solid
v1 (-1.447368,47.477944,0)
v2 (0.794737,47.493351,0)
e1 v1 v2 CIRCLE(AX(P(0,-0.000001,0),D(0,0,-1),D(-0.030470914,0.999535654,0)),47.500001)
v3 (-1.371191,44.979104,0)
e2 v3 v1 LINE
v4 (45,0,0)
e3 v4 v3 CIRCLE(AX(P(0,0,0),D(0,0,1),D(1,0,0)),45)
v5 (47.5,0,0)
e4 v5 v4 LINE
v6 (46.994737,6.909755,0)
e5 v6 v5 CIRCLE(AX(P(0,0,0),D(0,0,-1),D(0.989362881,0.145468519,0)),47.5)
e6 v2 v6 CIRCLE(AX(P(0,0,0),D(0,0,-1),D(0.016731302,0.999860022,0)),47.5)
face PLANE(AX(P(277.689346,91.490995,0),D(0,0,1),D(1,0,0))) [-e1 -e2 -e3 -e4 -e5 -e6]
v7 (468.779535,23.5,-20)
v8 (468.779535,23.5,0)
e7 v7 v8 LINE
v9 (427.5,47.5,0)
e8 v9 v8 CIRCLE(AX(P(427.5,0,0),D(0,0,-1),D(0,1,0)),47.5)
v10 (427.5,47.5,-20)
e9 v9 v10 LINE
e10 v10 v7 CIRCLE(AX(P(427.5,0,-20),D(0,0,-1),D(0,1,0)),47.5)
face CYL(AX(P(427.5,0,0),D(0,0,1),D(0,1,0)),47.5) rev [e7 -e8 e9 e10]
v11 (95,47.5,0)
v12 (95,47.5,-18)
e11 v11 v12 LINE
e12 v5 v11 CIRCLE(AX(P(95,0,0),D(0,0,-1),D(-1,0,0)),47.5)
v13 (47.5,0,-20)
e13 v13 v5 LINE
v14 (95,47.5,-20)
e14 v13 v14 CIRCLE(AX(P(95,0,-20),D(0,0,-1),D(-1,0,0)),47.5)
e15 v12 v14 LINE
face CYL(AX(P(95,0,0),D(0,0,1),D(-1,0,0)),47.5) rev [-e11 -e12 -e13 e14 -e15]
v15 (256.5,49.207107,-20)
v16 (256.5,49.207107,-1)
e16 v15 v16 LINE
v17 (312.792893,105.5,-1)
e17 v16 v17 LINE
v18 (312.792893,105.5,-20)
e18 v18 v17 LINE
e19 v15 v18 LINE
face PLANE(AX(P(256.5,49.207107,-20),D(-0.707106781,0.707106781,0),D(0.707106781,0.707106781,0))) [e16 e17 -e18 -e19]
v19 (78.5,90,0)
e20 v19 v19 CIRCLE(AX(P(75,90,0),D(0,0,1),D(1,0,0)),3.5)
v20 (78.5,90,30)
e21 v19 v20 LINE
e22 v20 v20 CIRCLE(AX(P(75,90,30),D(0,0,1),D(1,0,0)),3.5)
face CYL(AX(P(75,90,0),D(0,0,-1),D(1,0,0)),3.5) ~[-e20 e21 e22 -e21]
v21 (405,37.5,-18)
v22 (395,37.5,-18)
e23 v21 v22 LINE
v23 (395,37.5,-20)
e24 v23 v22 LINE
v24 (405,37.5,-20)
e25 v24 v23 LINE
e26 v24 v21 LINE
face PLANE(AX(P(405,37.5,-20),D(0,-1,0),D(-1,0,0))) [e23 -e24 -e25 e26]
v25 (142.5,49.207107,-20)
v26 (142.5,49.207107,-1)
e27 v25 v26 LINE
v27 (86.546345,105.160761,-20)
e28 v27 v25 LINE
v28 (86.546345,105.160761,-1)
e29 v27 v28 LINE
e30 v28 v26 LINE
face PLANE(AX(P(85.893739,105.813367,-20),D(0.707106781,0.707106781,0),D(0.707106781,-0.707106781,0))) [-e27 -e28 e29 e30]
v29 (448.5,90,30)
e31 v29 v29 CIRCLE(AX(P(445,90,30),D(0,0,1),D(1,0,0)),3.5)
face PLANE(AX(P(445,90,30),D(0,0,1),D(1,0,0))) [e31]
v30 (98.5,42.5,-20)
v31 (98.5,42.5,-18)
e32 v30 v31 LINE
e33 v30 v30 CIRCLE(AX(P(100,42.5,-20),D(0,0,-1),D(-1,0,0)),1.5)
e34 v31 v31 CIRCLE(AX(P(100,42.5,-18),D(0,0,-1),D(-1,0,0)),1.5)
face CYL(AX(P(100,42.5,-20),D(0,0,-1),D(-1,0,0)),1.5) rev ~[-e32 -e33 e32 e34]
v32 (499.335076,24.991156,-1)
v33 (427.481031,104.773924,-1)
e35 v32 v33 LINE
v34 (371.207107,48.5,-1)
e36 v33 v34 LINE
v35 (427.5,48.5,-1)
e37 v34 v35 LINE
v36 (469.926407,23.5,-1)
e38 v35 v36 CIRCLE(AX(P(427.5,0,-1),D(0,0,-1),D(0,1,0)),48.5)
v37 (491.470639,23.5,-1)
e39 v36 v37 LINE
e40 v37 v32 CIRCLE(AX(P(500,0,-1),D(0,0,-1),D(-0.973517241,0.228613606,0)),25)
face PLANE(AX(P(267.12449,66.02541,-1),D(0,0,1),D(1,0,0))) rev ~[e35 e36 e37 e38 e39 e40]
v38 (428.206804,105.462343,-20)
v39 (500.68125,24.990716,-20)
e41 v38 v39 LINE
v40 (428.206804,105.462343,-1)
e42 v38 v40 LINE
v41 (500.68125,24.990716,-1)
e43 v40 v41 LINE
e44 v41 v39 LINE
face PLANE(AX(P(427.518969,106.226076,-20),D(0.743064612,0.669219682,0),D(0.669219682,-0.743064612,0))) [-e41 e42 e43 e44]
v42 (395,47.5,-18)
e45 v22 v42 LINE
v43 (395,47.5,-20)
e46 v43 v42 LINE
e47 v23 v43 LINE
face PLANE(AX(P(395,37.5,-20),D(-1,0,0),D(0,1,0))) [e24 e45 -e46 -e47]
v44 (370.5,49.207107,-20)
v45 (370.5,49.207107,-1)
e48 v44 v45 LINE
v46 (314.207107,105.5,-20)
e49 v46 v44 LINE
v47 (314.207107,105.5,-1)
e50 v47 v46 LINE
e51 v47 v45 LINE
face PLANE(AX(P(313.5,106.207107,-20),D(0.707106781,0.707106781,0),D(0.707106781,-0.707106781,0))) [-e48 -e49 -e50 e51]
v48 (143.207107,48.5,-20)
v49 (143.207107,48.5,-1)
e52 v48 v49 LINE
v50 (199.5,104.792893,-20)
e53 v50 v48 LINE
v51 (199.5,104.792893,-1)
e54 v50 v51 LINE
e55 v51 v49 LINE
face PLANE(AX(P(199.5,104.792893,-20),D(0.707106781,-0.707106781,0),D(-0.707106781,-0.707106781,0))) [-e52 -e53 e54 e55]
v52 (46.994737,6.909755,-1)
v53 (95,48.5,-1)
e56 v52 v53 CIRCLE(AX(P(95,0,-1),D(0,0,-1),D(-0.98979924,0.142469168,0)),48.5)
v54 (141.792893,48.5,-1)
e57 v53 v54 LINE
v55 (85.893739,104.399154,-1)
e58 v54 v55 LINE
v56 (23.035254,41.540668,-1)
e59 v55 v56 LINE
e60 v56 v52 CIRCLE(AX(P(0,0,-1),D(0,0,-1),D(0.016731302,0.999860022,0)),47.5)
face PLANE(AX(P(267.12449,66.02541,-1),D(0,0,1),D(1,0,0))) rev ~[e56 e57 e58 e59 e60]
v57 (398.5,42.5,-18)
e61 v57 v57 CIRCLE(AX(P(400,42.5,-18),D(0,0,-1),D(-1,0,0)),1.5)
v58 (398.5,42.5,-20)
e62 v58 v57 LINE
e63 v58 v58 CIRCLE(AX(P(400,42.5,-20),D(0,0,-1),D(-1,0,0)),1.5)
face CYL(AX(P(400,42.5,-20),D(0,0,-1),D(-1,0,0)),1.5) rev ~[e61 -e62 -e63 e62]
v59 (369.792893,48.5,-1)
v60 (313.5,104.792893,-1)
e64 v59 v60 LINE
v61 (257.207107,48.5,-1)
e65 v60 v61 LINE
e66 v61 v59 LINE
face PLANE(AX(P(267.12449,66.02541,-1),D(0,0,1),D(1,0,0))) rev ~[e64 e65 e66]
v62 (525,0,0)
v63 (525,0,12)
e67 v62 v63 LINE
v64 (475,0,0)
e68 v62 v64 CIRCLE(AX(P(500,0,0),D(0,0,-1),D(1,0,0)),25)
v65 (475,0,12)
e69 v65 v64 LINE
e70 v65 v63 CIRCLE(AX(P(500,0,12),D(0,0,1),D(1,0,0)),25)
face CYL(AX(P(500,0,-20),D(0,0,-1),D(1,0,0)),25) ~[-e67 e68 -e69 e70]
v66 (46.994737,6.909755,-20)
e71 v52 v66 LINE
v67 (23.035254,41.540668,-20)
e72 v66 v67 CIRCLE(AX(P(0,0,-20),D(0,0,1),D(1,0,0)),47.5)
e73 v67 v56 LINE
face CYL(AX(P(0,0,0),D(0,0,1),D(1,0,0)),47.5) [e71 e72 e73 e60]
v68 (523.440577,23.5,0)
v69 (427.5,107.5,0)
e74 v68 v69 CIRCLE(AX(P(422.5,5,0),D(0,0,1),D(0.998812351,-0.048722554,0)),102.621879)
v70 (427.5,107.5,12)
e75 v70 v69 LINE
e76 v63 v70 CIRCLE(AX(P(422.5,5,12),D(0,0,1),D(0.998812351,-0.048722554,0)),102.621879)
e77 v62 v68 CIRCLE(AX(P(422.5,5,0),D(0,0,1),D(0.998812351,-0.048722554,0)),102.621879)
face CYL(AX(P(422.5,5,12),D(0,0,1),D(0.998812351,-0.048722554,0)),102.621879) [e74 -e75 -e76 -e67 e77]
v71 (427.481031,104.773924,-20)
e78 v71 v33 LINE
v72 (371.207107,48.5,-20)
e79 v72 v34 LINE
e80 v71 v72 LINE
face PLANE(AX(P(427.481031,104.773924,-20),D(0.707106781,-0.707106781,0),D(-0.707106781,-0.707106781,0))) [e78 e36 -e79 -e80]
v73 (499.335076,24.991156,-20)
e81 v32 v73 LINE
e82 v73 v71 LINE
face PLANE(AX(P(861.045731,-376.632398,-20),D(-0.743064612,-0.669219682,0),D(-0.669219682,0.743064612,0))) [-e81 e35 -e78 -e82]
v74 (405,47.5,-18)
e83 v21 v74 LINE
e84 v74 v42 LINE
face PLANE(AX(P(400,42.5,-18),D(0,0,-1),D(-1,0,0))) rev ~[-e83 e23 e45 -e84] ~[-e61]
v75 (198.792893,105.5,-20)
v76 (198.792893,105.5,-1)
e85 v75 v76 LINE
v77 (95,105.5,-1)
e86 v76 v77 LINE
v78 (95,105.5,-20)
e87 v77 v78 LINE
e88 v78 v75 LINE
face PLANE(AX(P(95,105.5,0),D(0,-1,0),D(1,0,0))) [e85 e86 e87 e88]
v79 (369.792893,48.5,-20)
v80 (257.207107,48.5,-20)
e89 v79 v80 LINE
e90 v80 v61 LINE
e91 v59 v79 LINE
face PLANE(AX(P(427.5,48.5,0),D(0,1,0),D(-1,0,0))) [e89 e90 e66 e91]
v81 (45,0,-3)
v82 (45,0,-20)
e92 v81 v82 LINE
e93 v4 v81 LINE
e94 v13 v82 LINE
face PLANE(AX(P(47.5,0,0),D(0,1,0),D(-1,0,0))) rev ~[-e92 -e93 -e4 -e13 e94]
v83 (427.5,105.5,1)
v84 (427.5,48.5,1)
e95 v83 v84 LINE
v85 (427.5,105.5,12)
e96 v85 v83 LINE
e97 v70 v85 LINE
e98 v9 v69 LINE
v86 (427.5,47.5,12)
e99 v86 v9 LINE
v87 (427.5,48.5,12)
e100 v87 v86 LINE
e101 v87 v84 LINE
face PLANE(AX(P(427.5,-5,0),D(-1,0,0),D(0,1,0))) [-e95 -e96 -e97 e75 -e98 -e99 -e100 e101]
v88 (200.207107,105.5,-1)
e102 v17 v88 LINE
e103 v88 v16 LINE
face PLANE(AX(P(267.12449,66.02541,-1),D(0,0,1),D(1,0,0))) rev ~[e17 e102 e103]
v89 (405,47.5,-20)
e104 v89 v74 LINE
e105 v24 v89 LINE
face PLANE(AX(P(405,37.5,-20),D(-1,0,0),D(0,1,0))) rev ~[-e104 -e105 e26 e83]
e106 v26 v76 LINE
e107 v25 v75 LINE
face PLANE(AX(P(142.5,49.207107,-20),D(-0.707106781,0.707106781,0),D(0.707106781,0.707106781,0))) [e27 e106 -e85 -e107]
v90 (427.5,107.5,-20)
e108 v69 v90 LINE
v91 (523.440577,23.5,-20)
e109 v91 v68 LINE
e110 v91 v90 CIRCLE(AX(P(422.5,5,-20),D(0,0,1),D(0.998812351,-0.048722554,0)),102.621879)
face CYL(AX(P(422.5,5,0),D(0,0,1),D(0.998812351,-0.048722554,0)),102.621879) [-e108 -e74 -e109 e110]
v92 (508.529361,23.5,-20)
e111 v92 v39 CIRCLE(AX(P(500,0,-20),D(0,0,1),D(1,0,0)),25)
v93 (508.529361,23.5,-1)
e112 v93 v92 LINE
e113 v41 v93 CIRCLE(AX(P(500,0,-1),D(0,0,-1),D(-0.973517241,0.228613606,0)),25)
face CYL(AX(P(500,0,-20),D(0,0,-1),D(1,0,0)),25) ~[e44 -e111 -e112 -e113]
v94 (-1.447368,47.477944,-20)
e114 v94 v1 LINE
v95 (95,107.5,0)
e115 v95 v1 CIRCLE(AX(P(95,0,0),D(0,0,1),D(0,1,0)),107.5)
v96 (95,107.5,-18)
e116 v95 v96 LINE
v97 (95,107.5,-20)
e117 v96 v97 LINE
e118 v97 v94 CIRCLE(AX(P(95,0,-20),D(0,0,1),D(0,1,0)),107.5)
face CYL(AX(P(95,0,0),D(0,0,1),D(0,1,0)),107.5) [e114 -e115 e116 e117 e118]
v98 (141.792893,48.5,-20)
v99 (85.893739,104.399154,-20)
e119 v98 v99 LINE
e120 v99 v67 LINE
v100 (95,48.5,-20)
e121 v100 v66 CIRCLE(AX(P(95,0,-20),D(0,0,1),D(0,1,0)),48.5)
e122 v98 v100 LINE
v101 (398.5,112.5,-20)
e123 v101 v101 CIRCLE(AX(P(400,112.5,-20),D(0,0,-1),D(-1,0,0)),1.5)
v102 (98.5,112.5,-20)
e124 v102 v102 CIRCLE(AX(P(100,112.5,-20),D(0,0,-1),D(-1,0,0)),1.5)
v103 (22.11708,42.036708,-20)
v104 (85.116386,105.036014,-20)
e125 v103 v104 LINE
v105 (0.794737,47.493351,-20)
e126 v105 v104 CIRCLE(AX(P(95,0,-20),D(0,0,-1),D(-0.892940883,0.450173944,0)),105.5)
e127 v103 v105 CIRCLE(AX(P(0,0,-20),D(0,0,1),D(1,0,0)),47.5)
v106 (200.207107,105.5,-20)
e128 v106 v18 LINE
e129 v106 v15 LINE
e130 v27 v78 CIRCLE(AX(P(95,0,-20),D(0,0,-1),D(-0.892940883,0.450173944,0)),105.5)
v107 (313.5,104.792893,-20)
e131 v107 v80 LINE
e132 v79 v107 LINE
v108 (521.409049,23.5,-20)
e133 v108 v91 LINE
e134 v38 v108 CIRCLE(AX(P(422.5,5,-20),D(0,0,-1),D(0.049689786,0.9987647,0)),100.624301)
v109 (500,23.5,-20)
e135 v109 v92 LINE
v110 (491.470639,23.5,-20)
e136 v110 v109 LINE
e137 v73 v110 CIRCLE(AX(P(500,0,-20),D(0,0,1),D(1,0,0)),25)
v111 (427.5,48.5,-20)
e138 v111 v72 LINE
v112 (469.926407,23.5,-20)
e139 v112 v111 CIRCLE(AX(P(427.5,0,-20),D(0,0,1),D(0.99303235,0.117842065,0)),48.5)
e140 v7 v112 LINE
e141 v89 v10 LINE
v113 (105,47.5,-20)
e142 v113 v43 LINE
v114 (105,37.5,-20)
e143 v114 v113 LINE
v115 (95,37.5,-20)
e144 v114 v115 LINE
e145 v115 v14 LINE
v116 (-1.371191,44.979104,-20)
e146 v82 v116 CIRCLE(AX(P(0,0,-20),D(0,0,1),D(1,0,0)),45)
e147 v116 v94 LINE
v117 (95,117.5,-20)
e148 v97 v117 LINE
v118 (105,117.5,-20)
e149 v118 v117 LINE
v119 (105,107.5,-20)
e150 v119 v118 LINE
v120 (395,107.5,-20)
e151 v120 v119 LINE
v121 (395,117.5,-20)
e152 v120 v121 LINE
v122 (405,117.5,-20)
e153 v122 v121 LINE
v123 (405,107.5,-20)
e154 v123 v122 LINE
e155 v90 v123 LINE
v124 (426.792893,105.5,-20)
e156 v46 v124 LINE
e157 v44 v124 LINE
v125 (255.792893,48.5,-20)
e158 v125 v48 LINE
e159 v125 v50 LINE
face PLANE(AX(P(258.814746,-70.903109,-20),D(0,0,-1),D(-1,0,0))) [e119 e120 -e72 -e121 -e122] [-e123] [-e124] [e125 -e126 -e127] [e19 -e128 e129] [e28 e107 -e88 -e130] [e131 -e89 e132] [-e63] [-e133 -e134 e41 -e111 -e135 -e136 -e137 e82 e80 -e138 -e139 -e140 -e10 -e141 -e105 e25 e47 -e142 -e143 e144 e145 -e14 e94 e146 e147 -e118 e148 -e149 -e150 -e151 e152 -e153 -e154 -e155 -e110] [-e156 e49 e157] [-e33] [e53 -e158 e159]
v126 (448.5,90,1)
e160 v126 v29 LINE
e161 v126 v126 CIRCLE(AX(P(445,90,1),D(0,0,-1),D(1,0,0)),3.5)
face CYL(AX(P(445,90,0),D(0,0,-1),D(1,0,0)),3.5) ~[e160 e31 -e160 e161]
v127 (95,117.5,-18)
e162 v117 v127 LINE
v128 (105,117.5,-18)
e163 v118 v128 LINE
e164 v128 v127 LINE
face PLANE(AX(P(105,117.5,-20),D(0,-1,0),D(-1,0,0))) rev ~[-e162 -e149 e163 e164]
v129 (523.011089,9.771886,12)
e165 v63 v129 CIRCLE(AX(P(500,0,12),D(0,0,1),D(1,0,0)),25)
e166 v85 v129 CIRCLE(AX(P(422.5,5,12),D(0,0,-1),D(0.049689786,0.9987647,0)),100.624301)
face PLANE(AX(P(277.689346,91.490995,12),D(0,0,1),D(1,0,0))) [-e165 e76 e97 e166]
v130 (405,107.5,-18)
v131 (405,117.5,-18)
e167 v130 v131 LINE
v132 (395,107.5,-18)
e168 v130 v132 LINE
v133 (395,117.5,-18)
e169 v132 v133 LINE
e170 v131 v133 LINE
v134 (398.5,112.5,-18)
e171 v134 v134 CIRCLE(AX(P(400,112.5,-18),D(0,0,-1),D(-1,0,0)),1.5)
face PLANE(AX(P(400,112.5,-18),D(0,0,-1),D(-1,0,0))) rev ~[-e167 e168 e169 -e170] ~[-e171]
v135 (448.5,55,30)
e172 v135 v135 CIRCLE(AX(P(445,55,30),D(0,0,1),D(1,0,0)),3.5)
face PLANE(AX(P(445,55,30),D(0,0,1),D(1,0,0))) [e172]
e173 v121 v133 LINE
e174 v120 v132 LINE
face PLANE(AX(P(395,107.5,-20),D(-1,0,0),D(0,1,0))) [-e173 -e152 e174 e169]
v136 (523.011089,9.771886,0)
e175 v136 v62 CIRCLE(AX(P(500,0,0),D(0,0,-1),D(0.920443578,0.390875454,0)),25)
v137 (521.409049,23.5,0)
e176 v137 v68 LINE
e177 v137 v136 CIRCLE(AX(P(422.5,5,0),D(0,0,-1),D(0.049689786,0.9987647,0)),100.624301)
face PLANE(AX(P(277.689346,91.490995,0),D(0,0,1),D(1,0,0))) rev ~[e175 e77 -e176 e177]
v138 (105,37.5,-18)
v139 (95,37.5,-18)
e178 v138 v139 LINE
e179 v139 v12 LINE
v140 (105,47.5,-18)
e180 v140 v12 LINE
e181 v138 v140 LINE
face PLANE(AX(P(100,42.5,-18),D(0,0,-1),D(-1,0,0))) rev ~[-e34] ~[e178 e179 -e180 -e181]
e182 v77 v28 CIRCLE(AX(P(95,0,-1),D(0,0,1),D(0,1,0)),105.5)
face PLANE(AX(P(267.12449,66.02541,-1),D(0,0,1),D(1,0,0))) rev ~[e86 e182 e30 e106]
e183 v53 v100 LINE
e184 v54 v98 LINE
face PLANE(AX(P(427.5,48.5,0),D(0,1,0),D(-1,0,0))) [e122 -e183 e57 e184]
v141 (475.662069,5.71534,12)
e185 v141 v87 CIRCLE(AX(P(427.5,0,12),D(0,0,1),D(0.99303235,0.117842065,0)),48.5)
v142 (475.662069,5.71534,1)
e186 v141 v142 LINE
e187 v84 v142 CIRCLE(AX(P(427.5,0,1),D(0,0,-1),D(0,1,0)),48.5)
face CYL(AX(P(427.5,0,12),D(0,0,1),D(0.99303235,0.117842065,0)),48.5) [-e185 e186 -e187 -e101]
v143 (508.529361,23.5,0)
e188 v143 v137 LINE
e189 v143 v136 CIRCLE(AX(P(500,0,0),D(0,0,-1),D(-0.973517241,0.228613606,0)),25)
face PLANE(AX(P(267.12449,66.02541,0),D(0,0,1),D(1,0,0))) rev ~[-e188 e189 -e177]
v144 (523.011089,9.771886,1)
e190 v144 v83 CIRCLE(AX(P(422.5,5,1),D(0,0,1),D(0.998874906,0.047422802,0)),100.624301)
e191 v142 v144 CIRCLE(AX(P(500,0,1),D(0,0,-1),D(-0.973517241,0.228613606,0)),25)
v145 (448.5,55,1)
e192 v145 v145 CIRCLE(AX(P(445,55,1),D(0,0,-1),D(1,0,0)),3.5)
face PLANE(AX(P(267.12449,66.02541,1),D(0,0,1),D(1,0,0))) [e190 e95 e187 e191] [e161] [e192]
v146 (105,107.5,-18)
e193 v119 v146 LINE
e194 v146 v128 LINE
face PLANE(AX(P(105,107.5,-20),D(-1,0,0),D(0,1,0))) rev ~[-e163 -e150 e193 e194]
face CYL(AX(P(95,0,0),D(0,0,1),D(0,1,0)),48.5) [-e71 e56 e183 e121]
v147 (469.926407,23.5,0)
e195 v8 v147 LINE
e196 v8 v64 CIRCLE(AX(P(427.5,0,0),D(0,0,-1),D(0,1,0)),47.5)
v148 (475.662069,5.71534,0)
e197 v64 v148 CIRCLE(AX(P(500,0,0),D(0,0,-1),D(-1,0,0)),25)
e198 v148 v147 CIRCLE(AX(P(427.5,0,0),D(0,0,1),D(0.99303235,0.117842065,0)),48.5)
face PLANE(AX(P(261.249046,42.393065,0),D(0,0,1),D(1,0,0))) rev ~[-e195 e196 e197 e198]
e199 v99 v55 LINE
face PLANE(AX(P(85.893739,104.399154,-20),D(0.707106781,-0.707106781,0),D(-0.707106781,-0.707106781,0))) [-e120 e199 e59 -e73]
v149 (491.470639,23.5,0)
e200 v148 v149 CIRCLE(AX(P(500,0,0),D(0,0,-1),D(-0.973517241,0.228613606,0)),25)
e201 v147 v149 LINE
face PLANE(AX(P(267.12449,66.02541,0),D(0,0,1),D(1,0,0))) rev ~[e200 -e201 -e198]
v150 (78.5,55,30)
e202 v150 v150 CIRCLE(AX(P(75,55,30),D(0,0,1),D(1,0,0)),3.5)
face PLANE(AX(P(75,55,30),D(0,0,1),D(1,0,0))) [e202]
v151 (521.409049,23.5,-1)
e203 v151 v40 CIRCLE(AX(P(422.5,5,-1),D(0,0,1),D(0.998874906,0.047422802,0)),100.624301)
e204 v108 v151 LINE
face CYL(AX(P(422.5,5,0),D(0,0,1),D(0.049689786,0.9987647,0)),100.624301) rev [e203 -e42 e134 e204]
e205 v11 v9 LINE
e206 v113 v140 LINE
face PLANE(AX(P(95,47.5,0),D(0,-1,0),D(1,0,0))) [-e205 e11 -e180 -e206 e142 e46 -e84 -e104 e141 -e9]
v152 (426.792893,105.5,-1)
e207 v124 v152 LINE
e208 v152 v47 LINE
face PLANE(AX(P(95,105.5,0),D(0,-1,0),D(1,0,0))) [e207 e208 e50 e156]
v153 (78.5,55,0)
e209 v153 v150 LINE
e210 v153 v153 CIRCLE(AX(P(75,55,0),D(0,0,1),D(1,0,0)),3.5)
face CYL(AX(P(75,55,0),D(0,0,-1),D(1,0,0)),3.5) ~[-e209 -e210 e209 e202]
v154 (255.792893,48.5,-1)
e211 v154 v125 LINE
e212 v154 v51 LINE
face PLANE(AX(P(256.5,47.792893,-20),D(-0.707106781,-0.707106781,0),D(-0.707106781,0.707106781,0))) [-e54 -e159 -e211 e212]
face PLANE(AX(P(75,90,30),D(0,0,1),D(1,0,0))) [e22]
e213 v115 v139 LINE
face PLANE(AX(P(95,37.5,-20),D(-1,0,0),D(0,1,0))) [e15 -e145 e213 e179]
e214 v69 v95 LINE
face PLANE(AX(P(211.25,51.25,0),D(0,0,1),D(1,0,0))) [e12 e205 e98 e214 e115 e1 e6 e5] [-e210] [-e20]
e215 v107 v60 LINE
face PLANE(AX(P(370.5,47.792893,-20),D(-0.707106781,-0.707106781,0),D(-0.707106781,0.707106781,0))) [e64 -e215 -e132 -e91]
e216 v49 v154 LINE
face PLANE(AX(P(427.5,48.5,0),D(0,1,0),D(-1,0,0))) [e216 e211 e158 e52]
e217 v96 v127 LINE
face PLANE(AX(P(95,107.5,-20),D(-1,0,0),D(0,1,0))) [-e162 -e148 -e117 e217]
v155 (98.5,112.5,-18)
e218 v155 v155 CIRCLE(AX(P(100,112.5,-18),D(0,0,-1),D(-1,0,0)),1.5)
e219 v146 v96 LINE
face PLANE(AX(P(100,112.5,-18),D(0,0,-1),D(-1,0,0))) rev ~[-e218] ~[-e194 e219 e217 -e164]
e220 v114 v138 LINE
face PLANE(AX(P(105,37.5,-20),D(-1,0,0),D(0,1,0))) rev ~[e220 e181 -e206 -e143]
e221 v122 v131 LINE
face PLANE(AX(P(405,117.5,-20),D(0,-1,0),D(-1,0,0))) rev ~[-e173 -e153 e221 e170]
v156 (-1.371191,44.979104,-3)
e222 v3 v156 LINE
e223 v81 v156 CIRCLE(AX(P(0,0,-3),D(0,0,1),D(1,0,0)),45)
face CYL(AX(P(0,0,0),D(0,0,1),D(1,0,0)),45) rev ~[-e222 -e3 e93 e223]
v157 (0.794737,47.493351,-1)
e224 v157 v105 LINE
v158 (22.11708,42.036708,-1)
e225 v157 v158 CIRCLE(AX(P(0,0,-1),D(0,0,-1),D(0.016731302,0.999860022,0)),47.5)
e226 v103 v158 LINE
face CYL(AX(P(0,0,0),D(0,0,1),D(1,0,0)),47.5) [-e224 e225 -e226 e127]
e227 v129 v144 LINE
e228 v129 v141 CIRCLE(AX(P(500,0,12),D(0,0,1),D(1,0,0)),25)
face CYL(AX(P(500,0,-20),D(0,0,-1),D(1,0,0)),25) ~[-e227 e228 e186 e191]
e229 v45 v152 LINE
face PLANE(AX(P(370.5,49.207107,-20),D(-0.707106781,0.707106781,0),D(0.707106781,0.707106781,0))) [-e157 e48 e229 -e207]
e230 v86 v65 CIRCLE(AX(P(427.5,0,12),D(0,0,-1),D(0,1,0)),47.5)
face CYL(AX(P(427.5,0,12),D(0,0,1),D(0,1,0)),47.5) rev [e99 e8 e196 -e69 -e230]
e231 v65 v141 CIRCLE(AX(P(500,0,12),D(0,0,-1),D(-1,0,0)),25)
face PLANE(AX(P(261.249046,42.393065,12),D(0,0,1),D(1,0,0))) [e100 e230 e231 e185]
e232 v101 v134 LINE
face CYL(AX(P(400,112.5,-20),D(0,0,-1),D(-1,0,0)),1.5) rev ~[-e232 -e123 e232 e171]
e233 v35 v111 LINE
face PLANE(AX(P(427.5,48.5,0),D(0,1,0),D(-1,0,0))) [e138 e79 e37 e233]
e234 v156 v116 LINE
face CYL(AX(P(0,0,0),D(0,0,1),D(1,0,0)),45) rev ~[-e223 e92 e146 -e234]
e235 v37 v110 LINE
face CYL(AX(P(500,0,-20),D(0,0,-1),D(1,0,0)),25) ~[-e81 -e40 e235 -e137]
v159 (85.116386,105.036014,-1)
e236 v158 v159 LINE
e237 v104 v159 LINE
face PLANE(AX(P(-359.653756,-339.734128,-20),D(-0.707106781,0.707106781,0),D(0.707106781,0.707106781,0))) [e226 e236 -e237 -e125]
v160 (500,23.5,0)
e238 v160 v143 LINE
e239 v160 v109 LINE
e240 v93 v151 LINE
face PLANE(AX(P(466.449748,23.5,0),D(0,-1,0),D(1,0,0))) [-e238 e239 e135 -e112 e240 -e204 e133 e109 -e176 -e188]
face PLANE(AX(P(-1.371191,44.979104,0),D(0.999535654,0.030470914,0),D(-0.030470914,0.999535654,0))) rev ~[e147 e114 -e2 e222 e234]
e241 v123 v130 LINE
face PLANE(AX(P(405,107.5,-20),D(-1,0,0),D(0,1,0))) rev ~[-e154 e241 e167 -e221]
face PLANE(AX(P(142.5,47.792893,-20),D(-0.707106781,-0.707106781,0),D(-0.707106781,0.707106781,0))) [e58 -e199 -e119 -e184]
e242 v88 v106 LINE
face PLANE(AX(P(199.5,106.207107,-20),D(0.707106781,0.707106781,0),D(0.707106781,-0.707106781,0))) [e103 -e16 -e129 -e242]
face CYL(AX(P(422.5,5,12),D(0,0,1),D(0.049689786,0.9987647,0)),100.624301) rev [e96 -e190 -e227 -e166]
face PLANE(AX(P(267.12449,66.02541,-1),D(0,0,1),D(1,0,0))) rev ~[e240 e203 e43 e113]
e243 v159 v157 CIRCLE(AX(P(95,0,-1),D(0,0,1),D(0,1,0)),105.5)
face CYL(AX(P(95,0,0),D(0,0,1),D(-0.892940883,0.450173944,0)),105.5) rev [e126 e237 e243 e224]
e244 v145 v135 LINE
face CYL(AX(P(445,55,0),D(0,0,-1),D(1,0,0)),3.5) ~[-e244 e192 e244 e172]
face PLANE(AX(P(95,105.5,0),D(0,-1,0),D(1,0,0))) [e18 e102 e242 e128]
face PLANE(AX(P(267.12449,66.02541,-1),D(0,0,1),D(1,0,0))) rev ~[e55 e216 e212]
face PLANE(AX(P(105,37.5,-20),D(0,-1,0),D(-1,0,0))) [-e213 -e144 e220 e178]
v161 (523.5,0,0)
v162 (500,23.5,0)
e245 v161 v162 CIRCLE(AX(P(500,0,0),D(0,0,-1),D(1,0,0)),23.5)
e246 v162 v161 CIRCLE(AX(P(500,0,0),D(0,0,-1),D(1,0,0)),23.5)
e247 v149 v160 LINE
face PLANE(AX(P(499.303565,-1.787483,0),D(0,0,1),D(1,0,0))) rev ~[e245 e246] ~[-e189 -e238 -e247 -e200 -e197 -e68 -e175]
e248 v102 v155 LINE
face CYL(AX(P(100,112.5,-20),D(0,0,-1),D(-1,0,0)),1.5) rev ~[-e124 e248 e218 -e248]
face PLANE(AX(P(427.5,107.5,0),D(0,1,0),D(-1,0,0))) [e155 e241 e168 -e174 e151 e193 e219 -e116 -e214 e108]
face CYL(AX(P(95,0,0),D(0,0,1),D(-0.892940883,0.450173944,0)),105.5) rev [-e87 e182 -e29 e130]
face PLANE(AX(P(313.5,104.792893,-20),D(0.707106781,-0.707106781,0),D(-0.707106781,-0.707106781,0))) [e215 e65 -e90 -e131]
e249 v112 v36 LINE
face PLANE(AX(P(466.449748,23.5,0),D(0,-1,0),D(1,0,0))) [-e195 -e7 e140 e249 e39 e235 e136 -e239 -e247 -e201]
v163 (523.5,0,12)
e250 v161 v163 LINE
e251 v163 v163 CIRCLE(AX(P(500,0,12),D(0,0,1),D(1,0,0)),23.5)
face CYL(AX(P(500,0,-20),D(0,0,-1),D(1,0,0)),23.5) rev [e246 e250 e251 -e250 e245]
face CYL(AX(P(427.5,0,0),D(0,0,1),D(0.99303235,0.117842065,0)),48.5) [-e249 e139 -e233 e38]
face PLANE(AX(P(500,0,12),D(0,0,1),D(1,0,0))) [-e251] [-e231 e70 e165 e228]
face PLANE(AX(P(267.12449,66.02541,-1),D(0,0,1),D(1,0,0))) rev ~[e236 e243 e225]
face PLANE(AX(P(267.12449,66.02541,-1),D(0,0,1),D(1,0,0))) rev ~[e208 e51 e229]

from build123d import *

# Parameters (mm, degrees)
BOSS_EXTRUDE1_DEPTH      = 1
SKETCH1_5_R              = 47.5
SKETCH1_5_R_2            = 25
BOSS_EXTRUDE2_DEPTH      = 3
SKETCH1_6_R              = 45
BOSS_EXTRUDE3_DEPTH      = 20
BOSS_EXTRUDE4_DEPTH      = 12
BOSS_EXTRUDE4_DEPTH_BACK = 20
SKETCH1_7_R              = 23.5
SKETCH4_W                = 10
SKETCH4_H                = 10
SKETCH4_R                = 1.5
BOSS_EXTRUDE5_DEPTH      = 2
RIB1_REACH               = 541.058
SKETCH5_R                = 25
SKETCH5_W                = 65.707634962
SKETCH5_H                = 50.574965667
CUT_EXTRUDE2_DEPTH       = 20
BOSS_EXTRUDE7_START      = 12
BOSS_EXTRUDE7_DEPTH      = 12
BOSS_EXTRUDE8_START      = 1
BOSS_EXTRUDE8_DEPTH      = 1
SKETCH6_W                = 432.5
SKETCH6_H                = 112.5
CUT_EXTRUDE3_DEPTH       = 20
SKETCH7_R                = 3.5
BOSS_EXTRUDE9_DEPTH      = 30


with BuildPart() as part:
    # Sketch1 → Boss-Extrude1 (new body)
    with BuildSketch(Plane.XY):
        with BuildLine():
            ThreePointArc((95, 105.5), (39.684082468, 89.835400971), (0.794736842, 47.493351044))
            ThreePointArc((0.794736842, 47.493351044), (31.348293783, 35.686614815), (46.994736842, 6.909754637))
            ThreePointArc((46.994736842, 6.909754637), (63.242112003, 36.656330285), (95, 48.5))
            Line((95, 48.5), (427.5, 48.5))
            ThreePointArc((427.5, 48.5), (459.710681482, 36.25909539), (475.662068966, 5.715340144))
            ThreePointArc((475.662068966, 5.715340144), (497.865985258, 24.908753102), (523.011089442, 9.771886344))
            ThreePointArc((523.011089442, 9.771886344), (493.732825543, 76.071334342), (427.5, 105.5))
            Line((427.5, 105.5), (95, 105.5))
        make_face()
    extrude(amount=-BOSS_EXTRUDE1_DEPTH)

    # Sketch1<5> → Boss-Extrude2 (add)
    with BuildSketch(Plane.XY):
        Circle(SKETCH1_5_R)
        Circle(SKETCH1_5_R_2, mode=Mode.SUBTRACT)
    extrude(amount=-BOSS_EXTRUDE2_DEPTH)

    # Sketch1<6> → Boss-Extrude3 (add)
    with BuildSketch(Plane.XY):
        with BuildLine():
            Line((427.5, 107.5), (95, 107.5))
            ThreePointArc((95, 107.5), (38.200479459, 91.269186839), (-1.447368421, 47.47794356))
            ThreePointArc((-1.447368421, 47.47794356), (-33.071891388, -34.095454242), (47.5, 0))
            ThreePointArc((47.5, 0), (61.412427894, 33.587572106), (95, 47.5))
            Line((95, 47.5), (427.5, 47.5))
            ThreePointArc((427.5, 47.5), (461.087572106, 33.587572106), (475, 0))
            ThreePointArc((475, 0), (475.166068818, 2.876779809), (475.662068966, 5.715340144))
            ThreePointArc((475.662068966, 5.715340144), (459.710681482, 36.25909539), (427.5, 48.5))
            Line((427.5, 48.5), (95, 48.5))
            ThreePointArc((95, 48.5), (63.242112003, 36.656330285), (46.994736842, 6.909754637))
            ThreePointArc((46.994736842, 6.909754637), (31.348293783, 35.686614815), (0.794736842, 47.493351044))
            ThreePointArc((0.794736842, 47.493351044), (39.684082468, 89.835400971), (95, 105.5))
            Line((95, 105.5), (427.5, 105.5))
            ThreePointArc((427.5, 105.5), (493.732825543, 76.071334342), (523.011089442, 9.771886344))
            ThreePointArc((523.011089442, 9.771886344), (524.497726793, 4.98611893), (525, 0))
            ThreePointArc((525, 0), (498.513978978, 73.942911166), (427.5, 107.5))
        make_face()
        Circle(SKETCH1_6_R, mode=Mode.SUBTRACT)
    extrude(amount=-BOSS_EXTRUDE3_DEPTH)

    # Sketch1<7> → Boss-Extrude4 (add, two sides: drawn at the far end of the back side and taken through both)
    with BuildSketch(Plane.XY.offset(-BOSS_EXTRUDE4_DEPTH_BACK)):
        with BuildLine():
            ThreePointArc((475, 0), (500, -25), (525, 0))
            ThreePointArc((525, 0), (524.497726793, 4.98611893), (523.011089442, 9.771886344))
            ThreePointArc((523.011089442, 9.771886344), (497.865985258, 24.908753102), (475.662068966, 5.715340144))
            ThreePointArc((475.662068966, 5.715340144), (475.166068818, 2.876779809), (475, 0))
        make_face()
        with Locations((500, 0)):
            Circle(SKETCH1_7_R, mode=Mode.SUBTRACT)
    extrude(amount=BOSS_EXTRUDE4_DEPTH + BOSS_EXTRUDE4_DEPTH_BACK)

    # Sketch4 → Boss-Extrude5 (add)
    # profile 1 of 4: a face of its own
    with BuildSketch(Plane(origin=(0, 0, -20), x_dir=(-1, 0, 0), z_dir=(0, 0, -1))):
        with Locations((-100, 112.5)):
            Rectangle(SKETCH4_W, SKETCH4_H)
        with Locations((-100, 112.5)):
            Circle(SKETCH4_R, mode=Mode.SUBTRACT)
    # profile 2 of 4: a face of its own
    with BuildSketch(Plane(origin=(0, 0, -20), x_dir=(-1, 0, 0), z_dir=(0, 0, -1))):
        with Locations((-100, 42.5)):
            Rectangle(SKETCH4_W, SKETCH4_H)
        with Locations((-100, 42.5)):
            Circle(SKETCH4_R, mode=Mode.SUBTRACT)
    # profile 3 of 4: a face of its own
    with BuildSketch(Plane(origin=(0, 0, -20), x_dir=(-1, 0, 0), z_dir=(0, 0, -1))):
        with Locations((-400, 42.5)):
            Rectangle(SKETCH4_W, SKETCH4_H)
        with Locations((-400, 42.5)):
            Circle(SKETCH4_R, mode=Mode.SUBTRACT)
    # profile 4 of 4: a face of its own
    with BuildSketch(Plane(origin=(0, 0, -20), x_dir=(-1, 0, 0), z_dir=(0, 0, -1))):
        with Locations((-400, 112.5)):
            Rectangle(SKETCH4_W, SKETCH4_H)
        with Locations((-400, 112.5)):
            Circle(SKETCH4_R, mode=Mode.SUBTRACT)
    extrude(amount=-BOSS_EXTRUDE5_DEPTH)

    # Sketch2 walls → Rib1 (add, up to next)
    with BuildSketch(Plane(origin=(0, 0, -20), x_dir=(-1, 0, 0), z_dir=(0, 0, -1)), mode=Mode.PRIVATE) as rib1_sk1:
        Polygon((-861.045730636, -376.632398349), (-427.481030572, 104.773923791), (-370.5, 47.792893219), (-313.5, 104.792893219), (-256.5, 47.792893219), (-199.5, 104.792893219), (-142.5, 47.792893219), (-85.893739398, 104.399153821), (358.946648956, -340.441234532), (359.653755737, -339.734127751), (-85.893739398, 105.813367384), (-142.5, 49.207106781), (-199.5, 106.207106781), (-256.5, 49.207106781), (-313.5, 106.207106781), (-370.5, 49.207106781), (-427.518969428, 106.226076209), (-861.788795248, -375.963178667), align=None)
    rib1_tool1 = extrude(rib1_sk1.sketch, amount=-RIB1_REACH, mode=Mode.PRIVATE) - part.part
    add(rib1_tool1.solids().sort_by_distance((228, 77, -20))[0])

    # Sketch5 → Cut-Extrude2 (cut)
    # profile 1 of 2: a face of its own
    with BuildSketch(Plane.XY):
        with BuildLine():
            ThreePointArc((45, 0), (31.331265526, 32.300956651), (-1.371191136, 44.979104425))
            Line((-1.371191136, 44.979104425), (-1.447368421, 47.47794356))
            ThreePointArc((-1.447368421, 47.47794356), (-33.071891388, -34.095454242), (47.5, 0))
            Line((47.5, 0), (45, 0))
        make_face()
        Circle(SKETCH5_R, mode=Mode.SUBTRACT)
    # profile 2 of 2: a face of its own
    with BuildSketch(Plane.XY):
        with Locations((499.303565133, -1.787482834)):
            Rectangle(SKETCH5_W, SKETCH5_H)
    extrude(amount=-CUT_EXTRUDE2_DEPTH, mode=Mode.SUBTRACT)

    # Sketch1<10> → Boss-Extrude7 (add)
    with BuildSketch(Plane.XY.offset(BOSS_EXTRUDE7_START)):
        with BuildLine():
            Line((427.5, 107.5), (95, 107.5))
            ThreePointArc((95, 107.5), (38.200479459, 91.269186839), (-1.447368421, 47.47794356))
            ThreePointArc((-1.447368421, 47.47794356), (-0.326406713, 47.498878499), (0.794736842, 47.493351044))
            ThreePointArc((0.794736842, 47.493351044), (39.684082468, 89.835400971), (95, 105.5))
            Line((95, 105.5), (427.5, 105.5))
            ThreePointArc((427.5, 105.5), (493.732825543, 76.071334342), (523.011089442, 9.771886344))
            ThreePointArc((523.011089442, 9.771886344), (524.497726793, 4.98611893), (525, 0))
            ThreePointArc((525, 0), (498.513978978, 73.942911166), (427.5, 107.5))
        make_face()
        with BuildLine():
            ThreePointArc((46.994736842, 6.909754637), (47.373515808, 3.464101615), (47.5, 0))
            ThreePointArc((47.5, 0), (61.412427894, 33.587572106), (95, 47.5))
            Line((95, 47.5), (427.5, 47.5))
            ThreePointArc((427.5, 47.5), (461.087572106, 33.587572106), (475, 0))
            ThreePointArc((475, 0), (475.166068818, 2.876779809), (475.662068966, 5.715340144))
            ThreePointArc((475.662068966, 5.715340144), (459.710681482, 36.25909539), (427.5, 48.5))
            Line((427.5, 48.5), (95, 48.5))
            ThreePointArc((95, 48.5), (63.242112003, 36.656330285), (46.994736842, 6.909754637))
        make_face()
    extrude(amount=-BOSS_EXTRUDE7_DEPTH)

    # Sketch1<11> → Boss-Extrude8 (add)
    with BuildSketch(Plane.XY.offset(BOSS_EXTRUDE8_START)):
        with BuildLine():
            ThreePointArc((95, 105.5), (39.684082468, 89.835400971), (0.794736842, 47.493351044))
            ThreePointArc((0.794736842, 47.493351044), (31.348293783, 35.686614815), (46.994736842, 6.909754637))
            ThreePointArc((46.994736842, 6.909754637), (63.242112003, 36.656330285), (95, 48.5))
            Line((95, 48.5), (427.5, 48.5))
            ThreePointArc((427.5, 48.5), (459.710681482, 36.25909539), (475.662068966, 5.715340144))
            ThreePointArc((475.662068966, 5.715340144), (497.865985258, 24.908753102), (523.011089442, 9.771886344))
            ThreePointArc((523.011089442, 9.771886344), (493.732825543, 76.071334342), (427.5, 105.5))
            Line((427.5, 105.5), (95, 105.5))
        make_face()
    extrude(amount=-BOSS_EXTRUDE8_DEPTH)

    # Sketch6 → Cut-Extrude3 (cut)
    with BuildSketch(Plane.XY):
        with Locations((211.25, 51.25)):
            Rectangle(SKETCH6_W, SKETCH6_H)
    extrude(amount=CUT_EXTRUDE3_DEPTH, mode=Mode.SUBTRACT)

    # Sketch7 → Boss-Extrude9 (add)
    with BuildSketch(Plane.XY):
        with Locations((75, 55)):
            Circle(SKETCH7_R)
        with Locations((75, 90)):
            Circle(SKETCH7_R)
        with Locations((445, 55)):
            Circle(SKETCH7_R)
        with Locations((445, 90)):
            Circle(SKETCH7_R)
    extrude(amount=BOSS_EXTRUDE9_DEPTH)


solid = part.part
